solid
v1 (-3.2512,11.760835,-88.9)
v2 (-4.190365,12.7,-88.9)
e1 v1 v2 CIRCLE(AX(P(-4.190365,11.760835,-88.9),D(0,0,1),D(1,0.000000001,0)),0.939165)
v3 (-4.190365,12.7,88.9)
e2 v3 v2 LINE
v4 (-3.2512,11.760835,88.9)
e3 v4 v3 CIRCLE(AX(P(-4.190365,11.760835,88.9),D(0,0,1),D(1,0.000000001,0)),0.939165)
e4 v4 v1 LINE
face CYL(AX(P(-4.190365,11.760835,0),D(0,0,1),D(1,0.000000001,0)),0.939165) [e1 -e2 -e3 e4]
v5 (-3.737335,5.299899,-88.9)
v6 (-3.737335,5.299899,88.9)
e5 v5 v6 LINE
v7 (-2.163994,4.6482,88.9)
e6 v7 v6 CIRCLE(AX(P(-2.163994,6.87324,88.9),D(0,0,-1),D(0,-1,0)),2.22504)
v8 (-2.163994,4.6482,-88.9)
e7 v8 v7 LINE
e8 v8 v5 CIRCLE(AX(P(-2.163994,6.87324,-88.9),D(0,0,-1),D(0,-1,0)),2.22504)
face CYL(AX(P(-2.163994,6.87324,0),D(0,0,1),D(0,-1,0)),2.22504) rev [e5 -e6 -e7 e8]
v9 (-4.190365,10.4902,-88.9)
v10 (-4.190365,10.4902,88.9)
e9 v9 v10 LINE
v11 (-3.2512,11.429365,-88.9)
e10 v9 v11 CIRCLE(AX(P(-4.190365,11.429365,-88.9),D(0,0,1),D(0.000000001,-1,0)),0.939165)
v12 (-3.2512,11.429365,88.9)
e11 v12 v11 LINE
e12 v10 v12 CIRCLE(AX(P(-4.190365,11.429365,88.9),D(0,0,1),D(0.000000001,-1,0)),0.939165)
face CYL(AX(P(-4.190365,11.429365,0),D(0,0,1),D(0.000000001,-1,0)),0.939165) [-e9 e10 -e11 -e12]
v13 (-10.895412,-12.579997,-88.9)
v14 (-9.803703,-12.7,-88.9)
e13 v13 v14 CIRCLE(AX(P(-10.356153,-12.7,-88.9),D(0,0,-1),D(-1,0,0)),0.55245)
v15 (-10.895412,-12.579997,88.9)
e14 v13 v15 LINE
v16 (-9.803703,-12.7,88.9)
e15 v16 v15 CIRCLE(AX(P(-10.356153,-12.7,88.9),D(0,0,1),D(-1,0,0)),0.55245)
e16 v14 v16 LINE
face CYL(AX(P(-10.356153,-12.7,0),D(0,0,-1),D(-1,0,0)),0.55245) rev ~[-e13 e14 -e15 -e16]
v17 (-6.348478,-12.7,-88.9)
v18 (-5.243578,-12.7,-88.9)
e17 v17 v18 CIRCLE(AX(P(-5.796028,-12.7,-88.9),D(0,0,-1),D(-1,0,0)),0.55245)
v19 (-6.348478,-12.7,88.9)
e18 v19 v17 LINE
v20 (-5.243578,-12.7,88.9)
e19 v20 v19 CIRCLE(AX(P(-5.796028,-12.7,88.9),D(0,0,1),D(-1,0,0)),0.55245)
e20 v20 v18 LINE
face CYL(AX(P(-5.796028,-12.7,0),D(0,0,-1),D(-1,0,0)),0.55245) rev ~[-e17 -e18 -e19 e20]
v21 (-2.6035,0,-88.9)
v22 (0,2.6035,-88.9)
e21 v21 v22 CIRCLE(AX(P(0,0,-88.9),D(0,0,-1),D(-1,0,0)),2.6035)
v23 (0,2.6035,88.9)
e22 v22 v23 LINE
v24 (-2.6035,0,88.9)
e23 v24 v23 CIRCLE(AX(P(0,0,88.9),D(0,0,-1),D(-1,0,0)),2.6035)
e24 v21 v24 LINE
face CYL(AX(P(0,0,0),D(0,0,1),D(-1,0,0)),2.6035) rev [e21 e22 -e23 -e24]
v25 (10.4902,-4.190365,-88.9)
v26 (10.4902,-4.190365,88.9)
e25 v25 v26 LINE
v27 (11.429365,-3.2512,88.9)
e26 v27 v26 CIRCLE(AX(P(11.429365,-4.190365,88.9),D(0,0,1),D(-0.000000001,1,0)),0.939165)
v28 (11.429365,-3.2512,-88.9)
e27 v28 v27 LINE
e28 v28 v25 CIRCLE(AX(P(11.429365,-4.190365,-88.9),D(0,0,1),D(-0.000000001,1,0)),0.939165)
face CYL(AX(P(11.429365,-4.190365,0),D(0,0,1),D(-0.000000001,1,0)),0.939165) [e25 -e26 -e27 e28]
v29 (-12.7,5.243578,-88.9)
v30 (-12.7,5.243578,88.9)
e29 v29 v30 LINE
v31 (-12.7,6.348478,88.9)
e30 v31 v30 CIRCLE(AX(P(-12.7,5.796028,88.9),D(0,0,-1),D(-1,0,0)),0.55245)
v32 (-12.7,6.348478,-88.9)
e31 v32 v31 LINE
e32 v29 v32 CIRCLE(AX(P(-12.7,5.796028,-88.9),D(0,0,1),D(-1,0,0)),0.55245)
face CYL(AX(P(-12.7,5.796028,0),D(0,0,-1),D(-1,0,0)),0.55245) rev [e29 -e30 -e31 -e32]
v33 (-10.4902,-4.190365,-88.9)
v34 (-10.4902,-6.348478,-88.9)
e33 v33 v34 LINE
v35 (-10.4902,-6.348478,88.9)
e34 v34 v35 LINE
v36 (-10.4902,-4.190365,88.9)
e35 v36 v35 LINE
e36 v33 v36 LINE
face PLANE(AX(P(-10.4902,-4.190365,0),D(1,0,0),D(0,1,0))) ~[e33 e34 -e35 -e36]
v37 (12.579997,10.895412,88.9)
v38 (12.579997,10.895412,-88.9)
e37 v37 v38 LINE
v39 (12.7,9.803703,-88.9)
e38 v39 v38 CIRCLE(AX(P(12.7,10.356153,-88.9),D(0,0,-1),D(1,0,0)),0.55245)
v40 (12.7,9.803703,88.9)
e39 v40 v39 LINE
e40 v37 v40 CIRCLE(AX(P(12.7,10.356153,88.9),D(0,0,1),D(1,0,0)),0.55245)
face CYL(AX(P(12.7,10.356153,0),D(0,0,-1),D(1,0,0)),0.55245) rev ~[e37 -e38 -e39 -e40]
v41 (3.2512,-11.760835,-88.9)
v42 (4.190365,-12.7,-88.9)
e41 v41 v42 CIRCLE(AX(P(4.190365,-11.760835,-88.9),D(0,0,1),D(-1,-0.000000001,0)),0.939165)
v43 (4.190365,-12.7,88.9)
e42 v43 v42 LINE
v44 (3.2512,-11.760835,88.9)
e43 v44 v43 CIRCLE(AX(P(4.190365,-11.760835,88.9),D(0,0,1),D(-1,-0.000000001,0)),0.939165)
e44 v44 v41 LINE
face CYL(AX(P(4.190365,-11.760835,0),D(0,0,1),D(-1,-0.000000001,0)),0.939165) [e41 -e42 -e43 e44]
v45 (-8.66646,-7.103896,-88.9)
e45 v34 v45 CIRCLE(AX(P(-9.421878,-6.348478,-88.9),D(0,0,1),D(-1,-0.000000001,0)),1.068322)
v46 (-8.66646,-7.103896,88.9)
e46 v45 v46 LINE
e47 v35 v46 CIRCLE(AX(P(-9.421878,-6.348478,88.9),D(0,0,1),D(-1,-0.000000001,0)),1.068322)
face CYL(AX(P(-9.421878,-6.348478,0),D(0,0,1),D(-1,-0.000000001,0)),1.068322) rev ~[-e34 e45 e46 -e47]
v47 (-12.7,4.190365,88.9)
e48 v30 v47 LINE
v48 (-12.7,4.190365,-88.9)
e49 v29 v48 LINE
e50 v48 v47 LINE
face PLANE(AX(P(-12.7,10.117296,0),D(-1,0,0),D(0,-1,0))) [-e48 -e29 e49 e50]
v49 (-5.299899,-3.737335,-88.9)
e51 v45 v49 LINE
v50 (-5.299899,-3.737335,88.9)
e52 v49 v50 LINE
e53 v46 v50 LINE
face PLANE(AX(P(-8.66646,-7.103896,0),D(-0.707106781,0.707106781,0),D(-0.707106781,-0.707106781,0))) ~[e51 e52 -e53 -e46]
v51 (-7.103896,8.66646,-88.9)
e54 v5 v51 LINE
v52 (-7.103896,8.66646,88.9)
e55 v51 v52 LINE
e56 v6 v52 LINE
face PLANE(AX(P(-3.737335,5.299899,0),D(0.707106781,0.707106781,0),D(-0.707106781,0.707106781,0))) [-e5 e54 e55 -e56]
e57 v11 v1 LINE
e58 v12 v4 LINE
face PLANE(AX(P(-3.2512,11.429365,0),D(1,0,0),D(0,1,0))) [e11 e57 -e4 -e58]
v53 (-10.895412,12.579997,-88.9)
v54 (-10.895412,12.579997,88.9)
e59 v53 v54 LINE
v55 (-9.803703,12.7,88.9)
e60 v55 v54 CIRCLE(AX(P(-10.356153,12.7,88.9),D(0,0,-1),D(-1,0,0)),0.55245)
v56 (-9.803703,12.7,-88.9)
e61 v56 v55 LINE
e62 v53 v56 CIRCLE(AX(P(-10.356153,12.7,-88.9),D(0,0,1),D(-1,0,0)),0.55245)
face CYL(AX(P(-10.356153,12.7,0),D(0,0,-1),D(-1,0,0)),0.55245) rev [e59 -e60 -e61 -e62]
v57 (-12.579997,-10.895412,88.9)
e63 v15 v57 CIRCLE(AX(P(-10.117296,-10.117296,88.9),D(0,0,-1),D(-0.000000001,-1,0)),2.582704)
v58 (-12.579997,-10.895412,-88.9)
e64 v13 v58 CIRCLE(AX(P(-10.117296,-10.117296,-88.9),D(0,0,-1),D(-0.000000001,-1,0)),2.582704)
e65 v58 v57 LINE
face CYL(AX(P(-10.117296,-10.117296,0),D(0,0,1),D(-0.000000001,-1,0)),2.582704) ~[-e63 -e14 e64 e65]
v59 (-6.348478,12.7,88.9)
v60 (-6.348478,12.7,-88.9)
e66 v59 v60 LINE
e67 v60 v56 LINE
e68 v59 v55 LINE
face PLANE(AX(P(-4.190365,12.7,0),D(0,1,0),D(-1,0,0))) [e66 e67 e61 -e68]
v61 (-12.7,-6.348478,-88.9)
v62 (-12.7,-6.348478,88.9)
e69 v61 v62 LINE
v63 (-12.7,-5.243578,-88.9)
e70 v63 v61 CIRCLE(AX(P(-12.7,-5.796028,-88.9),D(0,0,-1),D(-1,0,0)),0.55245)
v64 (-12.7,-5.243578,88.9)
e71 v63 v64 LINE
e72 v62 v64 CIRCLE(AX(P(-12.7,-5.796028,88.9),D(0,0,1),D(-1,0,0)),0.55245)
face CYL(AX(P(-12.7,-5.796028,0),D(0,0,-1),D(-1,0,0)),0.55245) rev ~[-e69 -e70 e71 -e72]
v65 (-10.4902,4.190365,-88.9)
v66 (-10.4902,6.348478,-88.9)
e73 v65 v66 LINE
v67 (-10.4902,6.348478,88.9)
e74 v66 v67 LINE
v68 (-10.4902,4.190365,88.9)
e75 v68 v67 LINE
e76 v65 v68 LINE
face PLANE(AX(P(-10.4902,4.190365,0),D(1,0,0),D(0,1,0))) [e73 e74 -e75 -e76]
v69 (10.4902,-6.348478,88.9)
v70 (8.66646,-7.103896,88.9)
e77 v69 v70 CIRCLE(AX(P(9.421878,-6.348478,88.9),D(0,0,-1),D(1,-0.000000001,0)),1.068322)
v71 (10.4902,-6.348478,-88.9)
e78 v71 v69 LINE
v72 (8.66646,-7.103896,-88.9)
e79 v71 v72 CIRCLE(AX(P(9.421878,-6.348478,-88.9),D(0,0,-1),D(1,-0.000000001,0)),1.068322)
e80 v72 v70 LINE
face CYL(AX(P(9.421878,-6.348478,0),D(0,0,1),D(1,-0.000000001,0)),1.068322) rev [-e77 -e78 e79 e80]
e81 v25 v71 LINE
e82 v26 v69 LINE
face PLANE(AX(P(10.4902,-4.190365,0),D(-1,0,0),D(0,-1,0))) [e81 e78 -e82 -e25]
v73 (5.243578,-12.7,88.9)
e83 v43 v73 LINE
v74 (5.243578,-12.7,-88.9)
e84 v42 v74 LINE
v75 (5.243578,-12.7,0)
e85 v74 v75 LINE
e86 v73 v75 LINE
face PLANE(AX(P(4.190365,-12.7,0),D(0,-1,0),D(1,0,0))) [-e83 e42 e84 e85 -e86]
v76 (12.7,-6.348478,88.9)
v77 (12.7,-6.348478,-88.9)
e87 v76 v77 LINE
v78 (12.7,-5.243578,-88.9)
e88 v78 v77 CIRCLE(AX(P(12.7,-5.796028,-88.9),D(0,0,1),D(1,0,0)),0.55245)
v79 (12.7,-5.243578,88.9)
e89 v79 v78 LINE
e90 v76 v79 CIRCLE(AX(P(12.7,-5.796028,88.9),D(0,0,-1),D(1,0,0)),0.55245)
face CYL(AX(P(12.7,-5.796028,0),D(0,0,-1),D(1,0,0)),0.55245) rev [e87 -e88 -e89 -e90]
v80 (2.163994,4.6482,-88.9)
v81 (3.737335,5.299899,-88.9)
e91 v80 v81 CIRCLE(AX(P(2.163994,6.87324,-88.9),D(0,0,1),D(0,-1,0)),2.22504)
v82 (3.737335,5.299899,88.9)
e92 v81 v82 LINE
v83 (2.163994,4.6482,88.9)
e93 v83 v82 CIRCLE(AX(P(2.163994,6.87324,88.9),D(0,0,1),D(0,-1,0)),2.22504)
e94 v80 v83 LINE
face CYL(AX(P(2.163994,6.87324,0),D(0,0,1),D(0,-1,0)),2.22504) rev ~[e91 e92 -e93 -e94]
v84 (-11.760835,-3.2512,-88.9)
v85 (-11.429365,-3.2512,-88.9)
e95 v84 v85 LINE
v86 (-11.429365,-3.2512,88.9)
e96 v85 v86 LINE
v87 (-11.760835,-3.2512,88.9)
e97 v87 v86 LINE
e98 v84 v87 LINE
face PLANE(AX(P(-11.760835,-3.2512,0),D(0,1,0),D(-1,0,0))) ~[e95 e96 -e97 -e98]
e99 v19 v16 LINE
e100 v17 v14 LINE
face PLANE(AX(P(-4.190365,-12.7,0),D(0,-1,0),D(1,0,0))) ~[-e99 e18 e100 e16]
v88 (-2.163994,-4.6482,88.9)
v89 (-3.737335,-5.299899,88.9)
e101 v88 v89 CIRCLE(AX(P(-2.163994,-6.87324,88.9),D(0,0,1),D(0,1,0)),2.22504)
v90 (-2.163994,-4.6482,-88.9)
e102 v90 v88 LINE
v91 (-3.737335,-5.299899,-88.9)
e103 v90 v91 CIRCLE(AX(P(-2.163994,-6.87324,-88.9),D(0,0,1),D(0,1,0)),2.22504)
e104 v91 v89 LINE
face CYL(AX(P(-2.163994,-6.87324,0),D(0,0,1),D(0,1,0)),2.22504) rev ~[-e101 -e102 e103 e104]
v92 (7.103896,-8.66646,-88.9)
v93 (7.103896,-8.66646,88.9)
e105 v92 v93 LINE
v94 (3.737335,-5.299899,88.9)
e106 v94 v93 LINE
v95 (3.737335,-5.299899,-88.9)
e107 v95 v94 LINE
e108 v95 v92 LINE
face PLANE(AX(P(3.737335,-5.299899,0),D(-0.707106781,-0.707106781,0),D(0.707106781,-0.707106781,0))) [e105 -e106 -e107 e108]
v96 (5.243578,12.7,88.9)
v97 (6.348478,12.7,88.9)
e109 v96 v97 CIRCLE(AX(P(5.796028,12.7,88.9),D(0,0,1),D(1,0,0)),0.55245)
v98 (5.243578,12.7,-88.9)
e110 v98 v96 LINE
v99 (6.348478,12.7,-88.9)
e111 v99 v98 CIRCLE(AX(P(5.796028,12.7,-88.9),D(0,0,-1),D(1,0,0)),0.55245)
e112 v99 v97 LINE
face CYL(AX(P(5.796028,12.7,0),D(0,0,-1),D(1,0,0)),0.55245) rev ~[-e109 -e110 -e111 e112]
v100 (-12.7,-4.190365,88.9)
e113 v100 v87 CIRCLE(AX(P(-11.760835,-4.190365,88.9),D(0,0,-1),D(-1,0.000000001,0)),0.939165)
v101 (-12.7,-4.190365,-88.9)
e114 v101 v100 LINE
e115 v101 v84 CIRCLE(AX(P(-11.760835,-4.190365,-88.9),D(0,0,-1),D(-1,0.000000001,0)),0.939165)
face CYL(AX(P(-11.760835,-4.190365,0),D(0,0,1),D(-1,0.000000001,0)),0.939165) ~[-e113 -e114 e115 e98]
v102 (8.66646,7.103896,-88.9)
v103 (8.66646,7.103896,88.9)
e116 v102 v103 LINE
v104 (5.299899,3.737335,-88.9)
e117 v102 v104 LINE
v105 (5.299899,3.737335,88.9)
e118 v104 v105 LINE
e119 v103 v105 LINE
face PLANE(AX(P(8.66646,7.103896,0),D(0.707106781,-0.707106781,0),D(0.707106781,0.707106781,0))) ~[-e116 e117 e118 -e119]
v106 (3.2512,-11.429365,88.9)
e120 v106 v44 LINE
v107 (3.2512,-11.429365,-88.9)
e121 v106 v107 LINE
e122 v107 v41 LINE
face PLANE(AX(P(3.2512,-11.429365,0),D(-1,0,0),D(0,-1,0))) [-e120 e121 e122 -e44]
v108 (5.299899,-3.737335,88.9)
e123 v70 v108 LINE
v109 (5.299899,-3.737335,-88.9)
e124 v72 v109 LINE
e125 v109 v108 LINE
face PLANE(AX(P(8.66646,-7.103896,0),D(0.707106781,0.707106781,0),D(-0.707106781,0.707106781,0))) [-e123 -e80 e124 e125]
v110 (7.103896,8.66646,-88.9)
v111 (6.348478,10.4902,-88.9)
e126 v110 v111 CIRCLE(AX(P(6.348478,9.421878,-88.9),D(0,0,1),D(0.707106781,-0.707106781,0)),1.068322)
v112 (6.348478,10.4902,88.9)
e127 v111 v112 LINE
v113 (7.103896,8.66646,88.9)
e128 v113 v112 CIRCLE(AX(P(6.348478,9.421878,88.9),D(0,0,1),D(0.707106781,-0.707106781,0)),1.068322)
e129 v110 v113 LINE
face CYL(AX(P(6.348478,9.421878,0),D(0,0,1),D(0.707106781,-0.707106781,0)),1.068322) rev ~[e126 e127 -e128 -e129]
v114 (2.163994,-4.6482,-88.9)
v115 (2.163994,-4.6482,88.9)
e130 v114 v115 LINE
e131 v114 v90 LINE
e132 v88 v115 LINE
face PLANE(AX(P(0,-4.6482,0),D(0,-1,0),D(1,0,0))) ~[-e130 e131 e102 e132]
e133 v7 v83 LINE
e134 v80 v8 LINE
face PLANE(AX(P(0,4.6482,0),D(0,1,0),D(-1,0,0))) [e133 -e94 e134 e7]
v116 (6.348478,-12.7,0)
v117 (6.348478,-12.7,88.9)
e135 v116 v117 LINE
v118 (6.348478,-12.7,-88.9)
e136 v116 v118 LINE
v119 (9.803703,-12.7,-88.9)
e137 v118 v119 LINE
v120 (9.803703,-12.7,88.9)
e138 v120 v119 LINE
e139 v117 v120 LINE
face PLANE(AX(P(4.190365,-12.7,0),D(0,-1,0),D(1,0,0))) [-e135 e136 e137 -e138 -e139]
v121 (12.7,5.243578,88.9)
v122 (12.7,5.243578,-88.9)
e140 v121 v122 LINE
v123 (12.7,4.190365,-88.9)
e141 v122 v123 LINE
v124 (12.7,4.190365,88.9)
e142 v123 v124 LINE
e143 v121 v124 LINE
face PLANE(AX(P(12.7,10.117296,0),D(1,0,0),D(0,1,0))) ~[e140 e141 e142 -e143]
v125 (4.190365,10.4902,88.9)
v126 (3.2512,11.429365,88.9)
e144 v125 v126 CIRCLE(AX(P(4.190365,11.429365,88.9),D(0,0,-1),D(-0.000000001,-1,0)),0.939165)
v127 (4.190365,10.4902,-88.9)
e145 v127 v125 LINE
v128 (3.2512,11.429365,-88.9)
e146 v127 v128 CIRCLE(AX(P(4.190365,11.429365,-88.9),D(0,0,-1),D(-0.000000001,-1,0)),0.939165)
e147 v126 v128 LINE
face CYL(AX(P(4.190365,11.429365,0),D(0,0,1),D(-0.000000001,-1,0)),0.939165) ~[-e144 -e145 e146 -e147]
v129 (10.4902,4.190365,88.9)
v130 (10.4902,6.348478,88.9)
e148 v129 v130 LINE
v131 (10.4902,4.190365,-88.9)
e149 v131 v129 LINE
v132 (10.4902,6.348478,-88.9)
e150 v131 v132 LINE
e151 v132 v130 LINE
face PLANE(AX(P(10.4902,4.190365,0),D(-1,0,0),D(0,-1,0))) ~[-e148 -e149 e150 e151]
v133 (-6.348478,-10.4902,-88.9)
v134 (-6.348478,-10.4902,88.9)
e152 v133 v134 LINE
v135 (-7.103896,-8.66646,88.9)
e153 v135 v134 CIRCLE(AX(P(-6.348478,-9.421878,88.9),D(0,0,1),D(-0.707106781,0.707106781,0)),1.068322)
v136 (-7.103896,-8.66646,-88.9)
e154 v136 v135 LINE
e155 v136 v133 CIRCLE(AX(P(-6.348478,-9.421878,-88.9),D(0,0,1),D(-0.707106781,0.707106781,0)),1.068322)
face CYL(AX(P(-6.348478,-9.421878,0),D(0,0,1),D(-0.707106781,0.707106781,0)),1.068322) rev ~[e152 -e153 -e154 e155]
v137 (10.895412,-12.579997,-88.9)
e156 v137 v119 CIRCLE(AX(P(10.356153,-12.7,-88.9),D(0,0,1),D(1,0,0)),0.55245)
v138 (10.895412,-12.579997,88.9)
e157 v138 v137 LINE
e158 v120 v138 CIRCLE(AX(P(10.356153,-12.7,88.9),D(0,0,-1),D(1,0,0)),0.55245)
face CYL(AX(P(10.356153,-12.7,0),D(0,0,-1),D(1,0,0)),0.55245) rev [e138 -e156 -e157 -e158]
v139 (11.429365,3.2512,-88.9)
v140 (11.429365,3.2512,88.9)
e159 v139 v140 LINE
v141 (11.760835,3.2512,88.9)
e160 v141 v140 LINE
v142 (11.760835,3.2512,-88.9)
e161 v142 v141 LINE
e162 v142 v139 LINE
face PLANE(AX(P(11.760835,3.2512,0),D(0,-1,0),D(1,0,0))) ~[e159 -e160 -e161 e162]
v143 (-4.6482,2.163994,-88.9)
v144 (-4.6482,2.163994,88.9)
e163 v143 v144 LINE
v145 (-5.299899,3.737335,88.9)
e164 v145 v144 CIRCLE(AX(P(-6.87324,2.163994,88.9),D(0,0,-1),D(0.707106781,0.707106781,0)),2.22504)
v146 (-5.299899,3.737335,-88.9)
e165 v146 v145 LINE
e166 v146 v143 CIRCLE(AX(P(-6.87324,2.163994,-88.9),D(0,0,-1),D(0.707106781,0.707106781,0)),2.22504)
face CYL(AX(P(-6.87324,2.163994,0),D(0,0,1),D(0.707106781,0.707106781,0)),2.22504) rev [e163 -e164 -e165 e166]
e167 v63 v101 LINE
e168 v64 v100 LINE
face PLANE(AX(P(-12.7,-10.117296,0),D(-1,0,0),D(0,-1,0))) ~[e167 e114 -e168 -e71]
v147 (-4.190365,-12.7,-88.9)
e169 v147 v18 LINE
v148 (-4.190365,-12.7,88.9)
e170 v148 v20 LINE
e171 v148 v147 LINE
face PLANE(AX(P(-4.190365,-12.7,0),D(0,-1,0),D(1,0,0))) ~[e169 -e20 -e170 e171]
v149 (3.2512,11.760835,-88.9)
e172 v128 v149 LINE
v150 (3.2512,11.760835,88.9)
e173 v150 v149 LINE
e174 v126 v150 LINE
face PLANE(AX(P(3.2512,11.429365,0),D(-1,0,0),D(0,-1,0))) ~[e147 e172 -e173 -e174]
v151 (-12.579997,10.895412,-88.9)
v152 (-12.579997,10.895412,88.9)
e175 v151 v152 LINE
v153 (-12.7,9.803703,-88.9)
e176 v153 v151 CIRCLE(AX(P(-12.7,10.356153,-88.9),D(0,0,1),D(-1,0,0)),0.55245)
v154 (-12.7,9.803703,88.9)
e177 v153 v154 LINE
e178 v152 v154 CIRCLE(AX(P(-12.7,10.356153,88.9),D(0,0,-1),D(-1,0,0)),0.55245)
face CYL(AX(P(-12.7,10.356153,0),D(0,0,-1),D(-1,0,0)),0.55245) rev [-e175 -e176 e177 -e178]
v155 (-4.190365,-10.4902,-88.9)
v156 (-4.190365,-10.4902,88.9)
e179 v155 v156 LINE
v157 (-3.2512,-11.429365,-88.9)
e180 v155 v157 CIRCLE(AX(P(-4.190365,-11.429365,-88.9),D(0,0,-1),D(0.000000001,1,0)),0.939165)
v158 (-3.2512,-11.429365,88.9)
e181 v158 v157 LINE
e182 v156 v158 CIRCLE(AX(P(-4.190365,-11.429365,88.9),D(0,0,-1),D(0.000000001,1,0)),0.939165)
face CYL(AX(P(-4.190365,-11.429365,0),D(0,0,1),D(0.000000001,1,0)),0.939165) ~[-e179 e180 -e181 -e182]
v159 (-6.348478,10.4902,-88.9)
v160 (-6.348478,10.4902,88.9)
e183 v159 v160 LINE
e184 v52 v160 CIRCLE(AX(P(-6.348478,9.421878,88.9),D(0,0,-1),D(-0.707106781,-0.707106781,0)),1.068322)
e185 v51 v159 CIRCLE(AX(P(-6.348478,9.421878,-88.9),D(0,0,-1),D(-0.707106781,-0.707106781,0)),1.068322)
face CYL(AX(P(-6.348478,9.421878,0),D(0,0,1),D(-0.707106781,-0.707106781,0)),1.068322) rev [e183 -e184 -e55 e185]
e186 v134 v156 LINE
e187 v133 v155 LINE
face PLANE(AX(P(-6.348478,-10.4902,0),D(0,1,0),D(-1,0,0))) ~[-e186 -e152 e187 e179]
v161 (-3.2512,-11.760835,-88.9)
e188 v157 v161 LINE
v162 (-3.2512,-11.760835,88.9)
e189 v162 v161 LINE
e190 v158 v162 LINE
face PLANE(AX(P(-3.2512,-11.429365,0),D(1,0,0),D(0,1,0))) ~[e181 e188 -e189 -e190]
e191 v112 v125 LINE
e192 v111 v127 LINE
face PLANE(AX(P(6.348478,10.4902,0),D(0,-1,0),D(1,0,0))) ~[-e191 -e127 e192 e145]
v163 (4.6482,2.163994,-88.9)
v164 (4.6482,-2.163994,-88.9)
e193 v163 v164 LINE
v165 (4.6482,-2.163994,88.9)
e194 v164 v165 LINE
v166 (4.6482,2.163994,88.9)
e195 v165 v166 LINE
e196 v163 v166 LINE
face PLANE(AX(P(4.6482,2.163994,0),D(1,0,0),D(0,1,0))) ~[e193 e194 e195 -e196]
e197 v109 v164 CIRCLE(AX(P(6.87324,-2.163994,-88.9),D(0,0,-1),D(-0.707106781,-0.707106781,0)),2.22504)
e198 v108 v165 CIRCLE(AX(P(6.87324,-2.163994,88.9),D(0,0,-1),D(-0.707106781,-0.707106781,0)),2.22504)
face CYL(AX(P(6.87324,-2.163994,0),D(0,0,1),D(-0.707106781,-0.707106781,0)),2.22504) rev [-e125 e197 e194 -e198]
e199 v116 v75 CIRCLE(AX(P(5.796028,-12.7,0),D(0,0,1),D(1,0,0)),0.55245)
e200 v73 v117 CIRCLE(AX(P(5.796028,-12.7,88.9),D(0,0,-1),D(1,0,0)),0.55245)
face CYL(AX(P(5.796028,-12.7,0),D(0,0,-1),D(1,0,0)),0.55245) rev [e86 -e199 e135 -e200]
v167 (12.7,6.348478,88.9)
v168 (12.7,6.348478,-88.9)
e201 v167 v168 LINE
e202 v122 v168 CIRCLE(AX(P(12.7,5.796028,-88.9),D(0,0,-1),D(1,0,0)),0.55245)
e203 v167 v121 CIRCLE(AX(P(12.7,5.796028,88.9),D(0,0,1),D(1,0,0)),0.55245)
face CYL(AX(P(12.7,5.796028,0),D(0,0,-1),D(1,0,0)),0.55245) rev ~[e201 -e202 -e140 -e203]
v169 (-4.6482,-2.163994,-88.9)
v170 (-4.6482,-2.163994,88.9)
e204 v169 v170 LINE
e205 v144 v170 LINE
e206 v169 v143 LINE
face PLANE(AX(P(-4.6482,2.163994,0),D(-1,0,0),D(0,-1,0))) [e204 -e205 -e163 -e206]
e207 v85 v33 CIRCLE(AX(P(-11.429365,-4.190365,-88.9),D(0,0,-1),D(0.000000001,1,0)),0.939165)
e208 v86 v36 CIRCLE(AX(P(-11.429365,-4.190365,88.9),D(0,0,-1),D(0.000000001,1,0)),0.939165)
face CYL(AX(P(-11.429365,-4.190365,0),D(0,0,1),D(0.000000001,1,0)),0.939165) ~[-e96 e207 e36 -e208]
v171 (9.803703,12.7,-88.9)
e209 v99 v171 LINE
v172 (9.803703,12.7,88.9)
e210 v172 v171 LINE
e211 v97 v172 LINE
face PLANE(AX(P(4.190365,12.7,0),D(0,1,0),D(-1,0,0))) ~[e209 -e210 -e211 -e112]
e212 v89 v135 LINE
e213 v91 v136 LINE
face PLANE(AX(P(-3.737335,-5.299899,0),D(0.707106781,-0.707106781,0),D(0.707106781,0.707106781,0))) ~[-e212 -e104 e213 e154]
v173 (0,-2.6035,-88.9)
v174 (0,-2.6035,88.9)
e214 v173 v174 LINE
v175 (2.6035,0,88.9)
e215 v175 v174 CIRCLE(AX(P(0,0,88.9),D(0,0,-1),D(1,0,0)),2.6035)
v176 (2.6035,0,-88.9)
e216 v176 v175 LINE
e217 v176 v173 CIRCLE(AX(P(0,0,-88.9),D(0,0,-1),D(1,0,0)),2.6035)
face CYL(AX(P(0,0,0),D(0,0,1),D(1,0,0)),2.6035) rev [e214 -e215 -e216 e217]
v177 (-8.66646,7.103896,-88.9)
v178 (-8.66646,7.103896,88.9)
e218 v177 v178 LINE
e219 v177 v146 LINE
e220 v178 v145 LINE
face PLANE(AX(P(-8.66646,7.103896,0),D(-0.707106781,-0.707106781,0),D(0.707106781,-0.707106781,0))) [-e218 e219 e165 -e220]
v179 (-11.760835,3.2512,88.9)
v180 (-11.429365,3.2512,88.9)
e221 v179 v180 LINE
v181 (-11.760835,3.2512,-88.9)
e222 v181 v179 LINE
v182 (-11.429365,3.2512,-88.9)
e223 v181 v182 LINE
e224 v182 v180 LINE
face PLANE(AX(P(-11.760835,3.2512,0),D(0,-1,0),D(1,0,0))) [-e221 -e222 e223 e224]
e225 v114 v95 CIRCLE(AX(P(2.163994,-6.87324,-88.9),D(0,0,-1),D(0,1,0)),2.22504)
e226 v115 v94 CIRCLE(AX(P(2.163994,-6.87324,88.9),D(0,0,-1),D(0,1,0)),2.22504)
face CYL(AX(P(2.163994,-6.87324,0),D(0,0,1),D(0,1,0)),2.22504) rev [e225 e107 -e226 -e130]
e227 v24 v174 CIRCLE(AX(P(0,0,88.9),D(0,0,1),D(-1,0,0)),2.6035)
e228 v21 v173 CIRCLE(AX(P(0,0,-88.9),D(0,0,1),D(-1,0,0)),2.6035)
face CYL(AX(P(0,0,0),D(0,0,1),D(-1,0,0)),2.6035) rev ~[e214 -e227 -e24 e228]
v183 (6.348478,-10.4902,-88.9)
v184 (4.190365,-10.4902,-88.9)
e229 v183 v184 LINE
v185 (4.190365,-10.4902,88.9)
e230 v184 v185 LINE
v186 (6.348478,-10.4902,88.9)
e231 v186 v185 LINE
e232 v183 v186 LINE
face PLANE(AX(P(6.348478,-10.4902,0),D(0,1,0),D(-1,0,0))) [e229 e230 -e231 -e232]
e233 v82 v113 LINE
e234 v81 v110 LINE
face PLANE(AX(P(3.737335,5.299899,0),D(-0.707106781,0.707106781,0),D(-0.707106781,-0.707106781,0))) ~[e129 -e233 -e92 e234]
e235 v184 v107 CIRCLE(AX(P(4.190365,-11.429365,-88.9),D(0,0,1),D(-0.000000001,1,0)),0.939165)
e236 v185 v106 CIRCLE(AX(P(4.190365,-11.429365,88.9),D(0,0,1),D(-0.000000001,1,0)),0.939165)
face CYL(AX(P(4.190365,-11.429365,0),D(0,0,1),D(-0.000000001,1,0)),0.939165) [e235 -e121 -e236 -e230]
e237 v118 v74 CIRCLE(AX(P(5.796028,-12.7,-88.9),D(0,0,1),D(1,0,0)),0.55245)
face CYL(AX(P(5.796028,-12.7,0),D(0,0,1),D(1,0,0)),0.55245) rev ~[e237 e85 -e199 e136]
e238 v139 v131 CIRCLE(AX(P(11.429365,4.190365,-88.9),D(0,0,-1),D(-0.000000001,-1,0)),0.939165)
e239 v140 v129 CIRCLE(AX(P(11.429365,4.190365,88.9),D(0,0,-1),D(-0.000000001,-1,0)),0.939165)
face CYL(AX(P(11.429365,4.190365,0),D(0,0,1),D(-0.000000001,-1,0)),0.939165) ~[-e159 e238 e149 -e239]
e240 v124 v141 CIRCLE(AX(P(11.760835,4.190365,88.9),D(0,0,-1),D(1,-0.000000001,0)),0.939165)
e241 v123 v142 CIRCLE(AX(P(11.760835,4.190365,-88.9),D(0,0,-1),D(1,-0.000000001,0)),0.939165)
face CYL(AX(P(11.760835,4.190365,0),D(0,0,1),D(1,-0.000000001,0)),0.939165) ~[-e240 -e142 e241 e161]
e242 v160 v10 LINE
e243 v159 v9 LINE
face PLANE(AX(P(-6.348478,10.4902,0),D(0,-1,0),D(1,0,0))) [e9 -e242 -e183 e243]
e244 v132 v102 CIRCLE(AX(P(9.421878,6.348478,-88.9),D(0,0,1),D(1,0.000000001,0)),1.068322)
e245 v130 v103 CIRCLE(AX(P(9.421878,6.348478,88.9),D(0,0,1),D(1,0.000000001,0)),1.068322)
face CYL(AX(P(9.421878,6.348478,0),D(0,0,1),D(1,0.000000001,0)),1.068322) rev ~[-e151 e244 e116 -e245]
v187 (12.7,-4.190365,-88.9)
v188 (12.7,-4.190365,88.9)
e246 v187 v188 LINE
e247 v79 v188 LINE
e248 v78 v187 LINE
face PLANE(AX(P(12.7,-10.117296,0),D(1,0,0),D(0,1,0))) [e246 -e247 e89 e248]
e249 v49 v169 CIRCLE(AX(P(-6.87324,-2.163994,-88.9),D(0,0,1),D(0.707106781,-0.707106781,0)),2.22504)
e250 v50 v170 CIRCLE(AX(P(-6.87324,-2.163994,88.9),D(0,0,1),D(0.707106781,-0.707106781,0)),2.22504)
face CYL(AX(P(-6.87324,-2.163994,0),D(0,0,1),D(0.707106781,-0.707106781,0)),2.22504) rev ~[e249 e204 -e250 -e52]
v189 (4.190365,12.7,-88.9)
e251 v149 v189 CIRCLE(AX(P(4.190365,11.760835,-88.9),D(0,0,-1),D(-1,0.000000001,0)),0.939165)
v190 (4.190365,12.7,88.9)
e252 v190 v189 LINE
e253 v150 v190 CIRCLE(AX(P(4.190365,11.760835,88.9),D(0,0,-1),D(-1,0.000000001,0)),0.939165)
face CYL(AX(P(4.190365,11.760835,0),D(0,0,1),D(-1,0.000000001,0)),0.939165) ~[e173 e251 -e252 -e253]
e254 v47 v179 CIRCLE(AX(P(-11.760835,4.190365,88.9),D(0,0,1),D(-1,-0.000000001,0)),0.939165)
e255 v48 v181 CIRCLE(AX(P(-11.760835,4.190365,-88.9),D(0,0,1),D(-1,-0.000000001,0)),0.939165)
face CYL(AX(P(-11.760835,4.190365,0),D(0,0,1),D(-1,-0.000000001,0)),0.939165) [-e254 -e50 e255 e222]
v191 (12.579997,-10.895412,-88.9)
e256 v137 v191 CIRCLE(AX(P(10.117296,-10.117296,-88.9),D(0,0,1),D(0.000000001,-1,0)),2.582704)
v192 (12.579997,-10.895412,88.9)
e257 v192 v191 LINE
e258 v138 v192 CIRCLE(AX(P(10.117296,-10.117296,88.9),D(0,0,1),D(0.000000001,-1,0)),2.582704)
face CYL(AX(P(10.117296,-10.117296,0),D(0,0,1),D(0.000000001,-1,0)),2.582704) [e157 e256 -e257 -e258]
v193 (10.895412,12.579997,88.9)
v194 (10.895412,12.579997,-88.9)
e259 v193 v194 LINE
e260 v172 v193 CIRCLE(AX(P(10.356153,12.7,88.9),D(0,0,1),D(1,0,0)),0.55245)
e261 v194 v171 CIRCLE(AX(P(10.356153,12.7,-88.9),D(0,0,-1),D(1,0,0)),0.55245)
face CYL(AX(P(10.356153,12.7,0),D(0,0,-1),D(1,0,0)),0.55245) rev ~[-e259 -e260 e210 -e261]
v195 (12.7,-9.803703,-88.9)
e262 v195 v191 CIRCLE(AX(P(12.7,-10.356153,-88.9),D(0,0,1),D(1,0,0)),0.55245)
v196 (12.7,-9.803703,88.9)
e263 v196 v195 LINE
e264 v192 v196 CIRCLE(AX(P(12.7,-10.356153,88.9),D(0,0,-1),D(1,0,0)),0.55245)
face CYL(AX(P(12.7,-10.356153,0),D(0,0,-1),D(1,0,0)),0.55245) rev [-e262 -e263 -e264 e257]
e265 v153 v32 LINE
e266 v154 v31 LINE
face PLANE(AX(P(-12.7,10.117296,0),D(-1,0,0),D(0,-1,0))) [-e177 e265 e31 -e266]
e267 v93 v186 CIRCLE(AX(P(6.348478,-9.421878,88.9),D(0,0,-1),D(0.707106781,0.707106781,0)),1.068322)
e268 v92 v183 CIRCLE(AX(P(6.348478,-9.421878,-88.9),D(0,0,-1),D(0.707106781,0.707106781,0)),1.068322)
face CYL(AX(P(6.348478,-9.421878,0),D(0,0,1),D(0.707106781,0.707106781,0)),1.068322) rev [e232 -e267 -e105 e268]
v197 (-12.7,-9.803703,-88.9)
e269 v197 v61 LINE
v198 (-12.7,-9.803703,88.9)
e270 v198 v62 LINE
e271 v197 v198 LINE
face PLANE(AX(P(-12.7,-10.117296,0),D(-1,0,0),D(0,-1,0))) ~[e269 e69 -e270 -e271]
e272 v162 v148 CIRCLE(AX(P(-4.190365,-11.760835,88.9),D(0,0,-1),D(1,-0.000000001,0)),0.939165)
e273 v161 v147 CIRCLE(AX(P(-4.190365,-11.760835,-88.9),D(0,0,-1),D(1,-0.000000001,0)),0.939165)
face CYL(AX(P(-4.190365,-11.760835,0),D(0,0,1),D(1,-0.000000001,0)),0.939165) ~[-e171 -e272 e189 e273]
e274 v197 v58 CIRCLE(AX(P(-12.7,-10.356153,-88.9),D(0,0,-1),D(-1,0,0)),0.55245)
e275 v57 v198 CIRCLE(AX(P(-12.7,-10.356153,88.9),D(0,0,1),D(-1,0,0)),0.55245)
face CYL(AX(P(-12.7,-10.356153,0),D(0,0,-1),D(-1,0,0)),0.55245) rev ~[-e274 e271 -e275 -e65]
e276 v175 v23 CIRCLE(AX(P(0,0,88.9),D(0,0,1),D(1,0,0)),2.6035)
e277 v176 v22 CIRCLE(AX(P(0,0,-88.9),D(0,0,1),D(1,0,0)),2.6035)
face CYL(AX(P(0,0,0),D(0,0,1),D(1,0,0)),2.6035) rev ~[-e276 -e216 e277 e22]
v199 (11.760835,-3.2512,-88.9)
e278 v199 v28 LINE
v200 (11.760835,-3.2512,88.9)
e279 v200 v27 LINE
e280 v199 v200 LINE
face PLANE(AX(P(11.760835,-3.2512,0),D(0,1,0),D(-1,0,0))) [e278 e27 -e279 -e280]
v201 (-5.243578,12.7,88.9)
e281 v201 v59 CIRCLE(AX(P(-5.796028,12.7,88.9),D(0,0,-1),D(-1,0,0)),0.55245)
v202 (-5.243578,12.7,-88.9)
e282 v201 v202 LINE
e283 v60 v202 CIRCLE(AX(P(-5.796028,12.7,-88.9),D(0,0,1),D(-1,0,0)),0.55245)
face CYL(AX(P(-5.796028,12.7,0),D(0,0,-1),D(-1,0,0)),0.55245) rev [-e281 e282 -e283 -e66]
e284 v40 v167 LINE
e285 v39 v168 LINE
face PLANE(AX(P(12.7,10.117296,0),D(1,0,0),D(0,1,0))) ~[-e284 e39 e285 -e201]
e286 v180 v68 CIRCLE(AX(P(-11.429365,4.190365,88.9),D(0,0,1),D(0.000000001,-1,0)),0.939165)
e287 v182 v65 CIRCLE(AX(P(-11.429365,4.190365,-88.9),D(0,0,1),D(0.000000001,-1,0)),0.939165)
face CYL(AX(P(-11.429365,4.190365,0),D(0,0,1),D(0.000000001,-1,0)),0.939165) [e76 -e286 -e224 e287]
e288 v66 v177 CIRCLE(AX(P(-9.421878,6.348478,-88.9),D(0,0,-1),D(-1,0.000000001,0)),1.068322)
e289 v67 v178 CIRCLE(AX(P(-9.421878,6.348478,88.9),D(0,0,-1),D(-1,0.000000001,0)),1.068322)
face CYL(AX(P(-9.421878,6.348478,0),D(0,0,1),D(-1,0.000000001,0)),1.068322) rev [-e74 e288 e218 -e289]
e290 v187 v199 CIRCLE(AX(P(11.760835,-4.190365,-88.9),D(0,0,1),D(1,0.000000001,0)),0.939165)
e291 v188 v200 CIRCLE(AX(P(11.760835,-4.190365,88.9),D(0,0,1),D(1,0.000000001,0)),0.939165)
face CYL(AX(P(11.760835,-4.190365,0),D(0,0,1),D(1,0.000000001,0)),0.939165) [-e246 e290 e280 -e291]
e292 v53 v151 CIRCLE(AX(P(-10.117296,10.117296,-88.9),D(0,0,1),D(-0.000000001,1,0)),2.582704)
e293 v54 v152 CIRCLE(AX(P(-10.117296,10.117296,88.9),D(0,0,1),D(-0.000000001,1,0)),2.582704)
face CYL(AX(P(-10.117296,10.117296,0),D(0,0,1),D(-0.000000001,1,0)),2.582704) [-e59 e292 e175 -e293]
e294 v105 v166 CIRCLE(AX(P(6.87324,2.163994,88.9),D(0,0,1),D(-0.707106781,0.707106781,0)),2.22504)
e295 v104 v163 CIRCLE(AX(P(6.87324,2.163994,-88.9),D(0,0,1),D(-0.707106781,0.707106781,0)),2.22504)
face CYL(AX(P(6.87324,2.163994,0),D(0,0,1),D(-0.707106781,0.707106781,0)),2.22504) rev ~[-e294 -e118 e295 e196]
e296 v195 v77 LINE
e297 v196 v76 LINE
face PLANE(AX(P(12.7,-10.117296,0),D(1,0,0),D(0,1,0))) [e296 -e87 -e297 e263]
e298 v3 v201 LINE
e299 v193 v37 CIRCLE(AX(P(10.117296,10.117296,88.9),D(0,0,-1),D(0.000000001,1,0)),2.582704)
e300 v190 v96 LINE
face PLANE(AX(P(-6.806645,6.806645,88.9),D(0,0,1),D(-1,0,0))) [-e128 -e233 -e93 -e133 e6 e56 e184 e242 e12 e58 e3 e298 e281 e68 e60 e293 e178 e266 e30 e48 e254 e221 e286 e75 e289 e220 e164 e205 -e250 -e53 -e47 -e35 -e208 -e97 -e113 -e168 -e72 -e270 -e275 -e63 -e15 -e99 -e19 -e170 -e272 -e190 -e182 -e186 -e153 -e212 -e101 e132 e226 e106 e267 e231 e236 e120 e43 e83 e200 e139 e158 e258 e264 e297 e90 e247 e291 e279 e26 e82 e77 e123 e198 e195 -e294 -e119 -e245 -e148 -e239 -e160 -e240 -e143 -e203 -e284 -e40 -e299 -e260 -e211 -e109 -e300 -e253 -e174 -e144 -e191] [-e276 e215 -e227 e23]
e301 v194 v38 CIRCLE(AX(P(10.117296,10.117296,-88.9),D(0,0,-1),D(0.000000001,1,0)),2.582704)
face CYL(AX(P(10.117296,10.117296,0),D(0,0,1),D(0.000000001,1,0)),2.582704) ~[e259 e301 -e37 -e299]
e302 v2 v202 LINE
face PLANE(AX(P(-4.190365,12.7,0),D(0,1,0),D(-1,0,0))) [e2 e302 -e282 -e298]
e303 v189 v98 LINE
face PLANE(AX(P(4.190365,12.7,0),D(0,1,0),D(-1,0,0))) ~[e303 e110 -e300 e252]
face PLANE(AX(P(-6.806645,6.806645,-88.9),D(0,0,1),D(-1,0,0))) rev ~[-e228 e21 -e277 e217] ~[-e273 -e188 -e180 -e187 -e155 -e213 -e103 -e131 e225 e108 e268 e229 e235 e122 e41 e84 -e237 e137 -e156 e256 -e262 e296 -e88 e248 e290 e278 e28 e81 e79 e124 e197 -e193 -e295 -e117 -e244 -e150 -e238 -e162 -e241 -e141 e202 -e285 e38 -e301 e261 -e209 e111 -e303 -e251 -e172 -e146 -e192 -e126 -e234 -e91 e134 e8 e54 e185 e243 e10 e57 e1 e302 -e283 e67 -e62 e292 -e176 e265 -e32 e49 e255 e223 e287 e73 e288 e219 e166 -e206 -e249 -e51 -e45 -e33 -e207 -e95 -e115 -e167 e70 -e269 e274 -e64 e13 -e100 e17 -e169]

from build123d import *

# Parameters (mm, degrees)
BOSS_EXTRUDE1_DEPTH     = 88.9
SKETCH5_R               = 0.55245
CUT_EXTRUDE1_DEPTH      = 89.9
CUT_EXTRUDE1_DEPTH_BACK = 89.9


with BuildPart() as part:
    # Sketch4 → Boss-Extrude1 (new body, symmetric)
    with BuildSketch(Plane.XY):
        with BuildLine():
            Line((4.190365, -12.7), (10.11729625, -12.7))
            ThreePointArc((10.11729625, -12.7), (11.943543585, -11.943543585), (12.7, -10.11729625))
            Line((12.7, -10.11729625), (12.7, -4.190365))
            ThreePointArc((12.7, -4.190365), (12.42492494, -3.52627506), (11.760835, -3.2512))
            Line((11.760835, -3.2512), (11.429365, -3.2512))
            ThreePointArc((11.429365, -3.2512), (10.76527506, -3.52627506), (10.4902, -4.190365))
            Line((10.4902, -4.190365), (10.4902, -6.348478019))
            ThreePointArc((10.4902, -6.348478019), (9.830707141, -7.335478831), (8.666460301, -7.103895736))
            Line((8.666460301, -7.103895736), (5.299899128, -3.737334563))
            ThreePointArc((5.299899128, -3.737334563), (4.817571085, -3.015479634), (4.6482, -2.16399369))
            Line((4.6482, -2.16399369), (4.6482, 0))
            Line((4.6482, 0), (2.6035, 0))
            ThreePointArc((2.6035, 0), (1.840952505, -1.840952505), (0, -2.6035))
            Line((0, -2.6035), (0, -4.6482))
            Line((0, -4.6482), (2.16399369, -4.6482))
            ThreePointArc((2.16399369, -4.6482), (3.015479634, -4.817571085), (3.737334563, -5.299899128))
            Line((3.737334563, -5.299899128), (7.103895736, -8.666460301))
            ThreePointArc((7.103895736, -8.666460301), (7.335478831, -9.830707141), (6.348478019, -10.4902))
            Line((6.348478019, -10.4902), (4.190365, -10.4902))
            ThreePointArc((4.190365, -10.4902), (3.52627506, -10.76527506), (3.2512, -11.429365))
            Line((3.2512, -11.429365), (3.2512, -11.760835))
            ThreePointArc((3.2512, -11.760835), (3.52627506, -12.42492494), (4.190365, -12.7))
        make_face()
    extrude(amount=BOSS_EXTRUDE1_DEPTH, both=True)

    # Sketch5 → Cut-Extrude1 (cut, two sides)
    with BuildSketch(Plane.XY) as cut_extrude1_sk:
        with Locations((10.356153152, -12.7)):
            Circle(SKETCH5_R)
        with Locations((5.796028019, -12.7)):
            Circle(SKETCH5_R)
        with Locations((12.7, -10.356153152)):
            Circle(SKETCH5_R)
        with Locations((12.7, -5.796028019)):
            Circle(SKETCH5_R)
    extrude(amount=CUT_EXTRUDE1_DEPTH, mode=Mode.SUBTRACT)
    extrude(cut_extrude1_sk.sketch, amount=-CUT_EXTRUDE1_DEPTH_BACK, mode=Mode.SUBTRACT)

    # Mirror1: part across plane


with BuildPart() as part_1:
    add(part.part)
    add(part.part.mirror(Plane(origin=(0, 0, 0), x_dir=(0, 0, 1), z_dir=(1, 0, 0))))

    # Mirror2: part across plane


with BuildPart() as part_2:
    add(part_1.part)
    add(part_1.part.mirror(Plane.ZX))


solid = part_2.part
